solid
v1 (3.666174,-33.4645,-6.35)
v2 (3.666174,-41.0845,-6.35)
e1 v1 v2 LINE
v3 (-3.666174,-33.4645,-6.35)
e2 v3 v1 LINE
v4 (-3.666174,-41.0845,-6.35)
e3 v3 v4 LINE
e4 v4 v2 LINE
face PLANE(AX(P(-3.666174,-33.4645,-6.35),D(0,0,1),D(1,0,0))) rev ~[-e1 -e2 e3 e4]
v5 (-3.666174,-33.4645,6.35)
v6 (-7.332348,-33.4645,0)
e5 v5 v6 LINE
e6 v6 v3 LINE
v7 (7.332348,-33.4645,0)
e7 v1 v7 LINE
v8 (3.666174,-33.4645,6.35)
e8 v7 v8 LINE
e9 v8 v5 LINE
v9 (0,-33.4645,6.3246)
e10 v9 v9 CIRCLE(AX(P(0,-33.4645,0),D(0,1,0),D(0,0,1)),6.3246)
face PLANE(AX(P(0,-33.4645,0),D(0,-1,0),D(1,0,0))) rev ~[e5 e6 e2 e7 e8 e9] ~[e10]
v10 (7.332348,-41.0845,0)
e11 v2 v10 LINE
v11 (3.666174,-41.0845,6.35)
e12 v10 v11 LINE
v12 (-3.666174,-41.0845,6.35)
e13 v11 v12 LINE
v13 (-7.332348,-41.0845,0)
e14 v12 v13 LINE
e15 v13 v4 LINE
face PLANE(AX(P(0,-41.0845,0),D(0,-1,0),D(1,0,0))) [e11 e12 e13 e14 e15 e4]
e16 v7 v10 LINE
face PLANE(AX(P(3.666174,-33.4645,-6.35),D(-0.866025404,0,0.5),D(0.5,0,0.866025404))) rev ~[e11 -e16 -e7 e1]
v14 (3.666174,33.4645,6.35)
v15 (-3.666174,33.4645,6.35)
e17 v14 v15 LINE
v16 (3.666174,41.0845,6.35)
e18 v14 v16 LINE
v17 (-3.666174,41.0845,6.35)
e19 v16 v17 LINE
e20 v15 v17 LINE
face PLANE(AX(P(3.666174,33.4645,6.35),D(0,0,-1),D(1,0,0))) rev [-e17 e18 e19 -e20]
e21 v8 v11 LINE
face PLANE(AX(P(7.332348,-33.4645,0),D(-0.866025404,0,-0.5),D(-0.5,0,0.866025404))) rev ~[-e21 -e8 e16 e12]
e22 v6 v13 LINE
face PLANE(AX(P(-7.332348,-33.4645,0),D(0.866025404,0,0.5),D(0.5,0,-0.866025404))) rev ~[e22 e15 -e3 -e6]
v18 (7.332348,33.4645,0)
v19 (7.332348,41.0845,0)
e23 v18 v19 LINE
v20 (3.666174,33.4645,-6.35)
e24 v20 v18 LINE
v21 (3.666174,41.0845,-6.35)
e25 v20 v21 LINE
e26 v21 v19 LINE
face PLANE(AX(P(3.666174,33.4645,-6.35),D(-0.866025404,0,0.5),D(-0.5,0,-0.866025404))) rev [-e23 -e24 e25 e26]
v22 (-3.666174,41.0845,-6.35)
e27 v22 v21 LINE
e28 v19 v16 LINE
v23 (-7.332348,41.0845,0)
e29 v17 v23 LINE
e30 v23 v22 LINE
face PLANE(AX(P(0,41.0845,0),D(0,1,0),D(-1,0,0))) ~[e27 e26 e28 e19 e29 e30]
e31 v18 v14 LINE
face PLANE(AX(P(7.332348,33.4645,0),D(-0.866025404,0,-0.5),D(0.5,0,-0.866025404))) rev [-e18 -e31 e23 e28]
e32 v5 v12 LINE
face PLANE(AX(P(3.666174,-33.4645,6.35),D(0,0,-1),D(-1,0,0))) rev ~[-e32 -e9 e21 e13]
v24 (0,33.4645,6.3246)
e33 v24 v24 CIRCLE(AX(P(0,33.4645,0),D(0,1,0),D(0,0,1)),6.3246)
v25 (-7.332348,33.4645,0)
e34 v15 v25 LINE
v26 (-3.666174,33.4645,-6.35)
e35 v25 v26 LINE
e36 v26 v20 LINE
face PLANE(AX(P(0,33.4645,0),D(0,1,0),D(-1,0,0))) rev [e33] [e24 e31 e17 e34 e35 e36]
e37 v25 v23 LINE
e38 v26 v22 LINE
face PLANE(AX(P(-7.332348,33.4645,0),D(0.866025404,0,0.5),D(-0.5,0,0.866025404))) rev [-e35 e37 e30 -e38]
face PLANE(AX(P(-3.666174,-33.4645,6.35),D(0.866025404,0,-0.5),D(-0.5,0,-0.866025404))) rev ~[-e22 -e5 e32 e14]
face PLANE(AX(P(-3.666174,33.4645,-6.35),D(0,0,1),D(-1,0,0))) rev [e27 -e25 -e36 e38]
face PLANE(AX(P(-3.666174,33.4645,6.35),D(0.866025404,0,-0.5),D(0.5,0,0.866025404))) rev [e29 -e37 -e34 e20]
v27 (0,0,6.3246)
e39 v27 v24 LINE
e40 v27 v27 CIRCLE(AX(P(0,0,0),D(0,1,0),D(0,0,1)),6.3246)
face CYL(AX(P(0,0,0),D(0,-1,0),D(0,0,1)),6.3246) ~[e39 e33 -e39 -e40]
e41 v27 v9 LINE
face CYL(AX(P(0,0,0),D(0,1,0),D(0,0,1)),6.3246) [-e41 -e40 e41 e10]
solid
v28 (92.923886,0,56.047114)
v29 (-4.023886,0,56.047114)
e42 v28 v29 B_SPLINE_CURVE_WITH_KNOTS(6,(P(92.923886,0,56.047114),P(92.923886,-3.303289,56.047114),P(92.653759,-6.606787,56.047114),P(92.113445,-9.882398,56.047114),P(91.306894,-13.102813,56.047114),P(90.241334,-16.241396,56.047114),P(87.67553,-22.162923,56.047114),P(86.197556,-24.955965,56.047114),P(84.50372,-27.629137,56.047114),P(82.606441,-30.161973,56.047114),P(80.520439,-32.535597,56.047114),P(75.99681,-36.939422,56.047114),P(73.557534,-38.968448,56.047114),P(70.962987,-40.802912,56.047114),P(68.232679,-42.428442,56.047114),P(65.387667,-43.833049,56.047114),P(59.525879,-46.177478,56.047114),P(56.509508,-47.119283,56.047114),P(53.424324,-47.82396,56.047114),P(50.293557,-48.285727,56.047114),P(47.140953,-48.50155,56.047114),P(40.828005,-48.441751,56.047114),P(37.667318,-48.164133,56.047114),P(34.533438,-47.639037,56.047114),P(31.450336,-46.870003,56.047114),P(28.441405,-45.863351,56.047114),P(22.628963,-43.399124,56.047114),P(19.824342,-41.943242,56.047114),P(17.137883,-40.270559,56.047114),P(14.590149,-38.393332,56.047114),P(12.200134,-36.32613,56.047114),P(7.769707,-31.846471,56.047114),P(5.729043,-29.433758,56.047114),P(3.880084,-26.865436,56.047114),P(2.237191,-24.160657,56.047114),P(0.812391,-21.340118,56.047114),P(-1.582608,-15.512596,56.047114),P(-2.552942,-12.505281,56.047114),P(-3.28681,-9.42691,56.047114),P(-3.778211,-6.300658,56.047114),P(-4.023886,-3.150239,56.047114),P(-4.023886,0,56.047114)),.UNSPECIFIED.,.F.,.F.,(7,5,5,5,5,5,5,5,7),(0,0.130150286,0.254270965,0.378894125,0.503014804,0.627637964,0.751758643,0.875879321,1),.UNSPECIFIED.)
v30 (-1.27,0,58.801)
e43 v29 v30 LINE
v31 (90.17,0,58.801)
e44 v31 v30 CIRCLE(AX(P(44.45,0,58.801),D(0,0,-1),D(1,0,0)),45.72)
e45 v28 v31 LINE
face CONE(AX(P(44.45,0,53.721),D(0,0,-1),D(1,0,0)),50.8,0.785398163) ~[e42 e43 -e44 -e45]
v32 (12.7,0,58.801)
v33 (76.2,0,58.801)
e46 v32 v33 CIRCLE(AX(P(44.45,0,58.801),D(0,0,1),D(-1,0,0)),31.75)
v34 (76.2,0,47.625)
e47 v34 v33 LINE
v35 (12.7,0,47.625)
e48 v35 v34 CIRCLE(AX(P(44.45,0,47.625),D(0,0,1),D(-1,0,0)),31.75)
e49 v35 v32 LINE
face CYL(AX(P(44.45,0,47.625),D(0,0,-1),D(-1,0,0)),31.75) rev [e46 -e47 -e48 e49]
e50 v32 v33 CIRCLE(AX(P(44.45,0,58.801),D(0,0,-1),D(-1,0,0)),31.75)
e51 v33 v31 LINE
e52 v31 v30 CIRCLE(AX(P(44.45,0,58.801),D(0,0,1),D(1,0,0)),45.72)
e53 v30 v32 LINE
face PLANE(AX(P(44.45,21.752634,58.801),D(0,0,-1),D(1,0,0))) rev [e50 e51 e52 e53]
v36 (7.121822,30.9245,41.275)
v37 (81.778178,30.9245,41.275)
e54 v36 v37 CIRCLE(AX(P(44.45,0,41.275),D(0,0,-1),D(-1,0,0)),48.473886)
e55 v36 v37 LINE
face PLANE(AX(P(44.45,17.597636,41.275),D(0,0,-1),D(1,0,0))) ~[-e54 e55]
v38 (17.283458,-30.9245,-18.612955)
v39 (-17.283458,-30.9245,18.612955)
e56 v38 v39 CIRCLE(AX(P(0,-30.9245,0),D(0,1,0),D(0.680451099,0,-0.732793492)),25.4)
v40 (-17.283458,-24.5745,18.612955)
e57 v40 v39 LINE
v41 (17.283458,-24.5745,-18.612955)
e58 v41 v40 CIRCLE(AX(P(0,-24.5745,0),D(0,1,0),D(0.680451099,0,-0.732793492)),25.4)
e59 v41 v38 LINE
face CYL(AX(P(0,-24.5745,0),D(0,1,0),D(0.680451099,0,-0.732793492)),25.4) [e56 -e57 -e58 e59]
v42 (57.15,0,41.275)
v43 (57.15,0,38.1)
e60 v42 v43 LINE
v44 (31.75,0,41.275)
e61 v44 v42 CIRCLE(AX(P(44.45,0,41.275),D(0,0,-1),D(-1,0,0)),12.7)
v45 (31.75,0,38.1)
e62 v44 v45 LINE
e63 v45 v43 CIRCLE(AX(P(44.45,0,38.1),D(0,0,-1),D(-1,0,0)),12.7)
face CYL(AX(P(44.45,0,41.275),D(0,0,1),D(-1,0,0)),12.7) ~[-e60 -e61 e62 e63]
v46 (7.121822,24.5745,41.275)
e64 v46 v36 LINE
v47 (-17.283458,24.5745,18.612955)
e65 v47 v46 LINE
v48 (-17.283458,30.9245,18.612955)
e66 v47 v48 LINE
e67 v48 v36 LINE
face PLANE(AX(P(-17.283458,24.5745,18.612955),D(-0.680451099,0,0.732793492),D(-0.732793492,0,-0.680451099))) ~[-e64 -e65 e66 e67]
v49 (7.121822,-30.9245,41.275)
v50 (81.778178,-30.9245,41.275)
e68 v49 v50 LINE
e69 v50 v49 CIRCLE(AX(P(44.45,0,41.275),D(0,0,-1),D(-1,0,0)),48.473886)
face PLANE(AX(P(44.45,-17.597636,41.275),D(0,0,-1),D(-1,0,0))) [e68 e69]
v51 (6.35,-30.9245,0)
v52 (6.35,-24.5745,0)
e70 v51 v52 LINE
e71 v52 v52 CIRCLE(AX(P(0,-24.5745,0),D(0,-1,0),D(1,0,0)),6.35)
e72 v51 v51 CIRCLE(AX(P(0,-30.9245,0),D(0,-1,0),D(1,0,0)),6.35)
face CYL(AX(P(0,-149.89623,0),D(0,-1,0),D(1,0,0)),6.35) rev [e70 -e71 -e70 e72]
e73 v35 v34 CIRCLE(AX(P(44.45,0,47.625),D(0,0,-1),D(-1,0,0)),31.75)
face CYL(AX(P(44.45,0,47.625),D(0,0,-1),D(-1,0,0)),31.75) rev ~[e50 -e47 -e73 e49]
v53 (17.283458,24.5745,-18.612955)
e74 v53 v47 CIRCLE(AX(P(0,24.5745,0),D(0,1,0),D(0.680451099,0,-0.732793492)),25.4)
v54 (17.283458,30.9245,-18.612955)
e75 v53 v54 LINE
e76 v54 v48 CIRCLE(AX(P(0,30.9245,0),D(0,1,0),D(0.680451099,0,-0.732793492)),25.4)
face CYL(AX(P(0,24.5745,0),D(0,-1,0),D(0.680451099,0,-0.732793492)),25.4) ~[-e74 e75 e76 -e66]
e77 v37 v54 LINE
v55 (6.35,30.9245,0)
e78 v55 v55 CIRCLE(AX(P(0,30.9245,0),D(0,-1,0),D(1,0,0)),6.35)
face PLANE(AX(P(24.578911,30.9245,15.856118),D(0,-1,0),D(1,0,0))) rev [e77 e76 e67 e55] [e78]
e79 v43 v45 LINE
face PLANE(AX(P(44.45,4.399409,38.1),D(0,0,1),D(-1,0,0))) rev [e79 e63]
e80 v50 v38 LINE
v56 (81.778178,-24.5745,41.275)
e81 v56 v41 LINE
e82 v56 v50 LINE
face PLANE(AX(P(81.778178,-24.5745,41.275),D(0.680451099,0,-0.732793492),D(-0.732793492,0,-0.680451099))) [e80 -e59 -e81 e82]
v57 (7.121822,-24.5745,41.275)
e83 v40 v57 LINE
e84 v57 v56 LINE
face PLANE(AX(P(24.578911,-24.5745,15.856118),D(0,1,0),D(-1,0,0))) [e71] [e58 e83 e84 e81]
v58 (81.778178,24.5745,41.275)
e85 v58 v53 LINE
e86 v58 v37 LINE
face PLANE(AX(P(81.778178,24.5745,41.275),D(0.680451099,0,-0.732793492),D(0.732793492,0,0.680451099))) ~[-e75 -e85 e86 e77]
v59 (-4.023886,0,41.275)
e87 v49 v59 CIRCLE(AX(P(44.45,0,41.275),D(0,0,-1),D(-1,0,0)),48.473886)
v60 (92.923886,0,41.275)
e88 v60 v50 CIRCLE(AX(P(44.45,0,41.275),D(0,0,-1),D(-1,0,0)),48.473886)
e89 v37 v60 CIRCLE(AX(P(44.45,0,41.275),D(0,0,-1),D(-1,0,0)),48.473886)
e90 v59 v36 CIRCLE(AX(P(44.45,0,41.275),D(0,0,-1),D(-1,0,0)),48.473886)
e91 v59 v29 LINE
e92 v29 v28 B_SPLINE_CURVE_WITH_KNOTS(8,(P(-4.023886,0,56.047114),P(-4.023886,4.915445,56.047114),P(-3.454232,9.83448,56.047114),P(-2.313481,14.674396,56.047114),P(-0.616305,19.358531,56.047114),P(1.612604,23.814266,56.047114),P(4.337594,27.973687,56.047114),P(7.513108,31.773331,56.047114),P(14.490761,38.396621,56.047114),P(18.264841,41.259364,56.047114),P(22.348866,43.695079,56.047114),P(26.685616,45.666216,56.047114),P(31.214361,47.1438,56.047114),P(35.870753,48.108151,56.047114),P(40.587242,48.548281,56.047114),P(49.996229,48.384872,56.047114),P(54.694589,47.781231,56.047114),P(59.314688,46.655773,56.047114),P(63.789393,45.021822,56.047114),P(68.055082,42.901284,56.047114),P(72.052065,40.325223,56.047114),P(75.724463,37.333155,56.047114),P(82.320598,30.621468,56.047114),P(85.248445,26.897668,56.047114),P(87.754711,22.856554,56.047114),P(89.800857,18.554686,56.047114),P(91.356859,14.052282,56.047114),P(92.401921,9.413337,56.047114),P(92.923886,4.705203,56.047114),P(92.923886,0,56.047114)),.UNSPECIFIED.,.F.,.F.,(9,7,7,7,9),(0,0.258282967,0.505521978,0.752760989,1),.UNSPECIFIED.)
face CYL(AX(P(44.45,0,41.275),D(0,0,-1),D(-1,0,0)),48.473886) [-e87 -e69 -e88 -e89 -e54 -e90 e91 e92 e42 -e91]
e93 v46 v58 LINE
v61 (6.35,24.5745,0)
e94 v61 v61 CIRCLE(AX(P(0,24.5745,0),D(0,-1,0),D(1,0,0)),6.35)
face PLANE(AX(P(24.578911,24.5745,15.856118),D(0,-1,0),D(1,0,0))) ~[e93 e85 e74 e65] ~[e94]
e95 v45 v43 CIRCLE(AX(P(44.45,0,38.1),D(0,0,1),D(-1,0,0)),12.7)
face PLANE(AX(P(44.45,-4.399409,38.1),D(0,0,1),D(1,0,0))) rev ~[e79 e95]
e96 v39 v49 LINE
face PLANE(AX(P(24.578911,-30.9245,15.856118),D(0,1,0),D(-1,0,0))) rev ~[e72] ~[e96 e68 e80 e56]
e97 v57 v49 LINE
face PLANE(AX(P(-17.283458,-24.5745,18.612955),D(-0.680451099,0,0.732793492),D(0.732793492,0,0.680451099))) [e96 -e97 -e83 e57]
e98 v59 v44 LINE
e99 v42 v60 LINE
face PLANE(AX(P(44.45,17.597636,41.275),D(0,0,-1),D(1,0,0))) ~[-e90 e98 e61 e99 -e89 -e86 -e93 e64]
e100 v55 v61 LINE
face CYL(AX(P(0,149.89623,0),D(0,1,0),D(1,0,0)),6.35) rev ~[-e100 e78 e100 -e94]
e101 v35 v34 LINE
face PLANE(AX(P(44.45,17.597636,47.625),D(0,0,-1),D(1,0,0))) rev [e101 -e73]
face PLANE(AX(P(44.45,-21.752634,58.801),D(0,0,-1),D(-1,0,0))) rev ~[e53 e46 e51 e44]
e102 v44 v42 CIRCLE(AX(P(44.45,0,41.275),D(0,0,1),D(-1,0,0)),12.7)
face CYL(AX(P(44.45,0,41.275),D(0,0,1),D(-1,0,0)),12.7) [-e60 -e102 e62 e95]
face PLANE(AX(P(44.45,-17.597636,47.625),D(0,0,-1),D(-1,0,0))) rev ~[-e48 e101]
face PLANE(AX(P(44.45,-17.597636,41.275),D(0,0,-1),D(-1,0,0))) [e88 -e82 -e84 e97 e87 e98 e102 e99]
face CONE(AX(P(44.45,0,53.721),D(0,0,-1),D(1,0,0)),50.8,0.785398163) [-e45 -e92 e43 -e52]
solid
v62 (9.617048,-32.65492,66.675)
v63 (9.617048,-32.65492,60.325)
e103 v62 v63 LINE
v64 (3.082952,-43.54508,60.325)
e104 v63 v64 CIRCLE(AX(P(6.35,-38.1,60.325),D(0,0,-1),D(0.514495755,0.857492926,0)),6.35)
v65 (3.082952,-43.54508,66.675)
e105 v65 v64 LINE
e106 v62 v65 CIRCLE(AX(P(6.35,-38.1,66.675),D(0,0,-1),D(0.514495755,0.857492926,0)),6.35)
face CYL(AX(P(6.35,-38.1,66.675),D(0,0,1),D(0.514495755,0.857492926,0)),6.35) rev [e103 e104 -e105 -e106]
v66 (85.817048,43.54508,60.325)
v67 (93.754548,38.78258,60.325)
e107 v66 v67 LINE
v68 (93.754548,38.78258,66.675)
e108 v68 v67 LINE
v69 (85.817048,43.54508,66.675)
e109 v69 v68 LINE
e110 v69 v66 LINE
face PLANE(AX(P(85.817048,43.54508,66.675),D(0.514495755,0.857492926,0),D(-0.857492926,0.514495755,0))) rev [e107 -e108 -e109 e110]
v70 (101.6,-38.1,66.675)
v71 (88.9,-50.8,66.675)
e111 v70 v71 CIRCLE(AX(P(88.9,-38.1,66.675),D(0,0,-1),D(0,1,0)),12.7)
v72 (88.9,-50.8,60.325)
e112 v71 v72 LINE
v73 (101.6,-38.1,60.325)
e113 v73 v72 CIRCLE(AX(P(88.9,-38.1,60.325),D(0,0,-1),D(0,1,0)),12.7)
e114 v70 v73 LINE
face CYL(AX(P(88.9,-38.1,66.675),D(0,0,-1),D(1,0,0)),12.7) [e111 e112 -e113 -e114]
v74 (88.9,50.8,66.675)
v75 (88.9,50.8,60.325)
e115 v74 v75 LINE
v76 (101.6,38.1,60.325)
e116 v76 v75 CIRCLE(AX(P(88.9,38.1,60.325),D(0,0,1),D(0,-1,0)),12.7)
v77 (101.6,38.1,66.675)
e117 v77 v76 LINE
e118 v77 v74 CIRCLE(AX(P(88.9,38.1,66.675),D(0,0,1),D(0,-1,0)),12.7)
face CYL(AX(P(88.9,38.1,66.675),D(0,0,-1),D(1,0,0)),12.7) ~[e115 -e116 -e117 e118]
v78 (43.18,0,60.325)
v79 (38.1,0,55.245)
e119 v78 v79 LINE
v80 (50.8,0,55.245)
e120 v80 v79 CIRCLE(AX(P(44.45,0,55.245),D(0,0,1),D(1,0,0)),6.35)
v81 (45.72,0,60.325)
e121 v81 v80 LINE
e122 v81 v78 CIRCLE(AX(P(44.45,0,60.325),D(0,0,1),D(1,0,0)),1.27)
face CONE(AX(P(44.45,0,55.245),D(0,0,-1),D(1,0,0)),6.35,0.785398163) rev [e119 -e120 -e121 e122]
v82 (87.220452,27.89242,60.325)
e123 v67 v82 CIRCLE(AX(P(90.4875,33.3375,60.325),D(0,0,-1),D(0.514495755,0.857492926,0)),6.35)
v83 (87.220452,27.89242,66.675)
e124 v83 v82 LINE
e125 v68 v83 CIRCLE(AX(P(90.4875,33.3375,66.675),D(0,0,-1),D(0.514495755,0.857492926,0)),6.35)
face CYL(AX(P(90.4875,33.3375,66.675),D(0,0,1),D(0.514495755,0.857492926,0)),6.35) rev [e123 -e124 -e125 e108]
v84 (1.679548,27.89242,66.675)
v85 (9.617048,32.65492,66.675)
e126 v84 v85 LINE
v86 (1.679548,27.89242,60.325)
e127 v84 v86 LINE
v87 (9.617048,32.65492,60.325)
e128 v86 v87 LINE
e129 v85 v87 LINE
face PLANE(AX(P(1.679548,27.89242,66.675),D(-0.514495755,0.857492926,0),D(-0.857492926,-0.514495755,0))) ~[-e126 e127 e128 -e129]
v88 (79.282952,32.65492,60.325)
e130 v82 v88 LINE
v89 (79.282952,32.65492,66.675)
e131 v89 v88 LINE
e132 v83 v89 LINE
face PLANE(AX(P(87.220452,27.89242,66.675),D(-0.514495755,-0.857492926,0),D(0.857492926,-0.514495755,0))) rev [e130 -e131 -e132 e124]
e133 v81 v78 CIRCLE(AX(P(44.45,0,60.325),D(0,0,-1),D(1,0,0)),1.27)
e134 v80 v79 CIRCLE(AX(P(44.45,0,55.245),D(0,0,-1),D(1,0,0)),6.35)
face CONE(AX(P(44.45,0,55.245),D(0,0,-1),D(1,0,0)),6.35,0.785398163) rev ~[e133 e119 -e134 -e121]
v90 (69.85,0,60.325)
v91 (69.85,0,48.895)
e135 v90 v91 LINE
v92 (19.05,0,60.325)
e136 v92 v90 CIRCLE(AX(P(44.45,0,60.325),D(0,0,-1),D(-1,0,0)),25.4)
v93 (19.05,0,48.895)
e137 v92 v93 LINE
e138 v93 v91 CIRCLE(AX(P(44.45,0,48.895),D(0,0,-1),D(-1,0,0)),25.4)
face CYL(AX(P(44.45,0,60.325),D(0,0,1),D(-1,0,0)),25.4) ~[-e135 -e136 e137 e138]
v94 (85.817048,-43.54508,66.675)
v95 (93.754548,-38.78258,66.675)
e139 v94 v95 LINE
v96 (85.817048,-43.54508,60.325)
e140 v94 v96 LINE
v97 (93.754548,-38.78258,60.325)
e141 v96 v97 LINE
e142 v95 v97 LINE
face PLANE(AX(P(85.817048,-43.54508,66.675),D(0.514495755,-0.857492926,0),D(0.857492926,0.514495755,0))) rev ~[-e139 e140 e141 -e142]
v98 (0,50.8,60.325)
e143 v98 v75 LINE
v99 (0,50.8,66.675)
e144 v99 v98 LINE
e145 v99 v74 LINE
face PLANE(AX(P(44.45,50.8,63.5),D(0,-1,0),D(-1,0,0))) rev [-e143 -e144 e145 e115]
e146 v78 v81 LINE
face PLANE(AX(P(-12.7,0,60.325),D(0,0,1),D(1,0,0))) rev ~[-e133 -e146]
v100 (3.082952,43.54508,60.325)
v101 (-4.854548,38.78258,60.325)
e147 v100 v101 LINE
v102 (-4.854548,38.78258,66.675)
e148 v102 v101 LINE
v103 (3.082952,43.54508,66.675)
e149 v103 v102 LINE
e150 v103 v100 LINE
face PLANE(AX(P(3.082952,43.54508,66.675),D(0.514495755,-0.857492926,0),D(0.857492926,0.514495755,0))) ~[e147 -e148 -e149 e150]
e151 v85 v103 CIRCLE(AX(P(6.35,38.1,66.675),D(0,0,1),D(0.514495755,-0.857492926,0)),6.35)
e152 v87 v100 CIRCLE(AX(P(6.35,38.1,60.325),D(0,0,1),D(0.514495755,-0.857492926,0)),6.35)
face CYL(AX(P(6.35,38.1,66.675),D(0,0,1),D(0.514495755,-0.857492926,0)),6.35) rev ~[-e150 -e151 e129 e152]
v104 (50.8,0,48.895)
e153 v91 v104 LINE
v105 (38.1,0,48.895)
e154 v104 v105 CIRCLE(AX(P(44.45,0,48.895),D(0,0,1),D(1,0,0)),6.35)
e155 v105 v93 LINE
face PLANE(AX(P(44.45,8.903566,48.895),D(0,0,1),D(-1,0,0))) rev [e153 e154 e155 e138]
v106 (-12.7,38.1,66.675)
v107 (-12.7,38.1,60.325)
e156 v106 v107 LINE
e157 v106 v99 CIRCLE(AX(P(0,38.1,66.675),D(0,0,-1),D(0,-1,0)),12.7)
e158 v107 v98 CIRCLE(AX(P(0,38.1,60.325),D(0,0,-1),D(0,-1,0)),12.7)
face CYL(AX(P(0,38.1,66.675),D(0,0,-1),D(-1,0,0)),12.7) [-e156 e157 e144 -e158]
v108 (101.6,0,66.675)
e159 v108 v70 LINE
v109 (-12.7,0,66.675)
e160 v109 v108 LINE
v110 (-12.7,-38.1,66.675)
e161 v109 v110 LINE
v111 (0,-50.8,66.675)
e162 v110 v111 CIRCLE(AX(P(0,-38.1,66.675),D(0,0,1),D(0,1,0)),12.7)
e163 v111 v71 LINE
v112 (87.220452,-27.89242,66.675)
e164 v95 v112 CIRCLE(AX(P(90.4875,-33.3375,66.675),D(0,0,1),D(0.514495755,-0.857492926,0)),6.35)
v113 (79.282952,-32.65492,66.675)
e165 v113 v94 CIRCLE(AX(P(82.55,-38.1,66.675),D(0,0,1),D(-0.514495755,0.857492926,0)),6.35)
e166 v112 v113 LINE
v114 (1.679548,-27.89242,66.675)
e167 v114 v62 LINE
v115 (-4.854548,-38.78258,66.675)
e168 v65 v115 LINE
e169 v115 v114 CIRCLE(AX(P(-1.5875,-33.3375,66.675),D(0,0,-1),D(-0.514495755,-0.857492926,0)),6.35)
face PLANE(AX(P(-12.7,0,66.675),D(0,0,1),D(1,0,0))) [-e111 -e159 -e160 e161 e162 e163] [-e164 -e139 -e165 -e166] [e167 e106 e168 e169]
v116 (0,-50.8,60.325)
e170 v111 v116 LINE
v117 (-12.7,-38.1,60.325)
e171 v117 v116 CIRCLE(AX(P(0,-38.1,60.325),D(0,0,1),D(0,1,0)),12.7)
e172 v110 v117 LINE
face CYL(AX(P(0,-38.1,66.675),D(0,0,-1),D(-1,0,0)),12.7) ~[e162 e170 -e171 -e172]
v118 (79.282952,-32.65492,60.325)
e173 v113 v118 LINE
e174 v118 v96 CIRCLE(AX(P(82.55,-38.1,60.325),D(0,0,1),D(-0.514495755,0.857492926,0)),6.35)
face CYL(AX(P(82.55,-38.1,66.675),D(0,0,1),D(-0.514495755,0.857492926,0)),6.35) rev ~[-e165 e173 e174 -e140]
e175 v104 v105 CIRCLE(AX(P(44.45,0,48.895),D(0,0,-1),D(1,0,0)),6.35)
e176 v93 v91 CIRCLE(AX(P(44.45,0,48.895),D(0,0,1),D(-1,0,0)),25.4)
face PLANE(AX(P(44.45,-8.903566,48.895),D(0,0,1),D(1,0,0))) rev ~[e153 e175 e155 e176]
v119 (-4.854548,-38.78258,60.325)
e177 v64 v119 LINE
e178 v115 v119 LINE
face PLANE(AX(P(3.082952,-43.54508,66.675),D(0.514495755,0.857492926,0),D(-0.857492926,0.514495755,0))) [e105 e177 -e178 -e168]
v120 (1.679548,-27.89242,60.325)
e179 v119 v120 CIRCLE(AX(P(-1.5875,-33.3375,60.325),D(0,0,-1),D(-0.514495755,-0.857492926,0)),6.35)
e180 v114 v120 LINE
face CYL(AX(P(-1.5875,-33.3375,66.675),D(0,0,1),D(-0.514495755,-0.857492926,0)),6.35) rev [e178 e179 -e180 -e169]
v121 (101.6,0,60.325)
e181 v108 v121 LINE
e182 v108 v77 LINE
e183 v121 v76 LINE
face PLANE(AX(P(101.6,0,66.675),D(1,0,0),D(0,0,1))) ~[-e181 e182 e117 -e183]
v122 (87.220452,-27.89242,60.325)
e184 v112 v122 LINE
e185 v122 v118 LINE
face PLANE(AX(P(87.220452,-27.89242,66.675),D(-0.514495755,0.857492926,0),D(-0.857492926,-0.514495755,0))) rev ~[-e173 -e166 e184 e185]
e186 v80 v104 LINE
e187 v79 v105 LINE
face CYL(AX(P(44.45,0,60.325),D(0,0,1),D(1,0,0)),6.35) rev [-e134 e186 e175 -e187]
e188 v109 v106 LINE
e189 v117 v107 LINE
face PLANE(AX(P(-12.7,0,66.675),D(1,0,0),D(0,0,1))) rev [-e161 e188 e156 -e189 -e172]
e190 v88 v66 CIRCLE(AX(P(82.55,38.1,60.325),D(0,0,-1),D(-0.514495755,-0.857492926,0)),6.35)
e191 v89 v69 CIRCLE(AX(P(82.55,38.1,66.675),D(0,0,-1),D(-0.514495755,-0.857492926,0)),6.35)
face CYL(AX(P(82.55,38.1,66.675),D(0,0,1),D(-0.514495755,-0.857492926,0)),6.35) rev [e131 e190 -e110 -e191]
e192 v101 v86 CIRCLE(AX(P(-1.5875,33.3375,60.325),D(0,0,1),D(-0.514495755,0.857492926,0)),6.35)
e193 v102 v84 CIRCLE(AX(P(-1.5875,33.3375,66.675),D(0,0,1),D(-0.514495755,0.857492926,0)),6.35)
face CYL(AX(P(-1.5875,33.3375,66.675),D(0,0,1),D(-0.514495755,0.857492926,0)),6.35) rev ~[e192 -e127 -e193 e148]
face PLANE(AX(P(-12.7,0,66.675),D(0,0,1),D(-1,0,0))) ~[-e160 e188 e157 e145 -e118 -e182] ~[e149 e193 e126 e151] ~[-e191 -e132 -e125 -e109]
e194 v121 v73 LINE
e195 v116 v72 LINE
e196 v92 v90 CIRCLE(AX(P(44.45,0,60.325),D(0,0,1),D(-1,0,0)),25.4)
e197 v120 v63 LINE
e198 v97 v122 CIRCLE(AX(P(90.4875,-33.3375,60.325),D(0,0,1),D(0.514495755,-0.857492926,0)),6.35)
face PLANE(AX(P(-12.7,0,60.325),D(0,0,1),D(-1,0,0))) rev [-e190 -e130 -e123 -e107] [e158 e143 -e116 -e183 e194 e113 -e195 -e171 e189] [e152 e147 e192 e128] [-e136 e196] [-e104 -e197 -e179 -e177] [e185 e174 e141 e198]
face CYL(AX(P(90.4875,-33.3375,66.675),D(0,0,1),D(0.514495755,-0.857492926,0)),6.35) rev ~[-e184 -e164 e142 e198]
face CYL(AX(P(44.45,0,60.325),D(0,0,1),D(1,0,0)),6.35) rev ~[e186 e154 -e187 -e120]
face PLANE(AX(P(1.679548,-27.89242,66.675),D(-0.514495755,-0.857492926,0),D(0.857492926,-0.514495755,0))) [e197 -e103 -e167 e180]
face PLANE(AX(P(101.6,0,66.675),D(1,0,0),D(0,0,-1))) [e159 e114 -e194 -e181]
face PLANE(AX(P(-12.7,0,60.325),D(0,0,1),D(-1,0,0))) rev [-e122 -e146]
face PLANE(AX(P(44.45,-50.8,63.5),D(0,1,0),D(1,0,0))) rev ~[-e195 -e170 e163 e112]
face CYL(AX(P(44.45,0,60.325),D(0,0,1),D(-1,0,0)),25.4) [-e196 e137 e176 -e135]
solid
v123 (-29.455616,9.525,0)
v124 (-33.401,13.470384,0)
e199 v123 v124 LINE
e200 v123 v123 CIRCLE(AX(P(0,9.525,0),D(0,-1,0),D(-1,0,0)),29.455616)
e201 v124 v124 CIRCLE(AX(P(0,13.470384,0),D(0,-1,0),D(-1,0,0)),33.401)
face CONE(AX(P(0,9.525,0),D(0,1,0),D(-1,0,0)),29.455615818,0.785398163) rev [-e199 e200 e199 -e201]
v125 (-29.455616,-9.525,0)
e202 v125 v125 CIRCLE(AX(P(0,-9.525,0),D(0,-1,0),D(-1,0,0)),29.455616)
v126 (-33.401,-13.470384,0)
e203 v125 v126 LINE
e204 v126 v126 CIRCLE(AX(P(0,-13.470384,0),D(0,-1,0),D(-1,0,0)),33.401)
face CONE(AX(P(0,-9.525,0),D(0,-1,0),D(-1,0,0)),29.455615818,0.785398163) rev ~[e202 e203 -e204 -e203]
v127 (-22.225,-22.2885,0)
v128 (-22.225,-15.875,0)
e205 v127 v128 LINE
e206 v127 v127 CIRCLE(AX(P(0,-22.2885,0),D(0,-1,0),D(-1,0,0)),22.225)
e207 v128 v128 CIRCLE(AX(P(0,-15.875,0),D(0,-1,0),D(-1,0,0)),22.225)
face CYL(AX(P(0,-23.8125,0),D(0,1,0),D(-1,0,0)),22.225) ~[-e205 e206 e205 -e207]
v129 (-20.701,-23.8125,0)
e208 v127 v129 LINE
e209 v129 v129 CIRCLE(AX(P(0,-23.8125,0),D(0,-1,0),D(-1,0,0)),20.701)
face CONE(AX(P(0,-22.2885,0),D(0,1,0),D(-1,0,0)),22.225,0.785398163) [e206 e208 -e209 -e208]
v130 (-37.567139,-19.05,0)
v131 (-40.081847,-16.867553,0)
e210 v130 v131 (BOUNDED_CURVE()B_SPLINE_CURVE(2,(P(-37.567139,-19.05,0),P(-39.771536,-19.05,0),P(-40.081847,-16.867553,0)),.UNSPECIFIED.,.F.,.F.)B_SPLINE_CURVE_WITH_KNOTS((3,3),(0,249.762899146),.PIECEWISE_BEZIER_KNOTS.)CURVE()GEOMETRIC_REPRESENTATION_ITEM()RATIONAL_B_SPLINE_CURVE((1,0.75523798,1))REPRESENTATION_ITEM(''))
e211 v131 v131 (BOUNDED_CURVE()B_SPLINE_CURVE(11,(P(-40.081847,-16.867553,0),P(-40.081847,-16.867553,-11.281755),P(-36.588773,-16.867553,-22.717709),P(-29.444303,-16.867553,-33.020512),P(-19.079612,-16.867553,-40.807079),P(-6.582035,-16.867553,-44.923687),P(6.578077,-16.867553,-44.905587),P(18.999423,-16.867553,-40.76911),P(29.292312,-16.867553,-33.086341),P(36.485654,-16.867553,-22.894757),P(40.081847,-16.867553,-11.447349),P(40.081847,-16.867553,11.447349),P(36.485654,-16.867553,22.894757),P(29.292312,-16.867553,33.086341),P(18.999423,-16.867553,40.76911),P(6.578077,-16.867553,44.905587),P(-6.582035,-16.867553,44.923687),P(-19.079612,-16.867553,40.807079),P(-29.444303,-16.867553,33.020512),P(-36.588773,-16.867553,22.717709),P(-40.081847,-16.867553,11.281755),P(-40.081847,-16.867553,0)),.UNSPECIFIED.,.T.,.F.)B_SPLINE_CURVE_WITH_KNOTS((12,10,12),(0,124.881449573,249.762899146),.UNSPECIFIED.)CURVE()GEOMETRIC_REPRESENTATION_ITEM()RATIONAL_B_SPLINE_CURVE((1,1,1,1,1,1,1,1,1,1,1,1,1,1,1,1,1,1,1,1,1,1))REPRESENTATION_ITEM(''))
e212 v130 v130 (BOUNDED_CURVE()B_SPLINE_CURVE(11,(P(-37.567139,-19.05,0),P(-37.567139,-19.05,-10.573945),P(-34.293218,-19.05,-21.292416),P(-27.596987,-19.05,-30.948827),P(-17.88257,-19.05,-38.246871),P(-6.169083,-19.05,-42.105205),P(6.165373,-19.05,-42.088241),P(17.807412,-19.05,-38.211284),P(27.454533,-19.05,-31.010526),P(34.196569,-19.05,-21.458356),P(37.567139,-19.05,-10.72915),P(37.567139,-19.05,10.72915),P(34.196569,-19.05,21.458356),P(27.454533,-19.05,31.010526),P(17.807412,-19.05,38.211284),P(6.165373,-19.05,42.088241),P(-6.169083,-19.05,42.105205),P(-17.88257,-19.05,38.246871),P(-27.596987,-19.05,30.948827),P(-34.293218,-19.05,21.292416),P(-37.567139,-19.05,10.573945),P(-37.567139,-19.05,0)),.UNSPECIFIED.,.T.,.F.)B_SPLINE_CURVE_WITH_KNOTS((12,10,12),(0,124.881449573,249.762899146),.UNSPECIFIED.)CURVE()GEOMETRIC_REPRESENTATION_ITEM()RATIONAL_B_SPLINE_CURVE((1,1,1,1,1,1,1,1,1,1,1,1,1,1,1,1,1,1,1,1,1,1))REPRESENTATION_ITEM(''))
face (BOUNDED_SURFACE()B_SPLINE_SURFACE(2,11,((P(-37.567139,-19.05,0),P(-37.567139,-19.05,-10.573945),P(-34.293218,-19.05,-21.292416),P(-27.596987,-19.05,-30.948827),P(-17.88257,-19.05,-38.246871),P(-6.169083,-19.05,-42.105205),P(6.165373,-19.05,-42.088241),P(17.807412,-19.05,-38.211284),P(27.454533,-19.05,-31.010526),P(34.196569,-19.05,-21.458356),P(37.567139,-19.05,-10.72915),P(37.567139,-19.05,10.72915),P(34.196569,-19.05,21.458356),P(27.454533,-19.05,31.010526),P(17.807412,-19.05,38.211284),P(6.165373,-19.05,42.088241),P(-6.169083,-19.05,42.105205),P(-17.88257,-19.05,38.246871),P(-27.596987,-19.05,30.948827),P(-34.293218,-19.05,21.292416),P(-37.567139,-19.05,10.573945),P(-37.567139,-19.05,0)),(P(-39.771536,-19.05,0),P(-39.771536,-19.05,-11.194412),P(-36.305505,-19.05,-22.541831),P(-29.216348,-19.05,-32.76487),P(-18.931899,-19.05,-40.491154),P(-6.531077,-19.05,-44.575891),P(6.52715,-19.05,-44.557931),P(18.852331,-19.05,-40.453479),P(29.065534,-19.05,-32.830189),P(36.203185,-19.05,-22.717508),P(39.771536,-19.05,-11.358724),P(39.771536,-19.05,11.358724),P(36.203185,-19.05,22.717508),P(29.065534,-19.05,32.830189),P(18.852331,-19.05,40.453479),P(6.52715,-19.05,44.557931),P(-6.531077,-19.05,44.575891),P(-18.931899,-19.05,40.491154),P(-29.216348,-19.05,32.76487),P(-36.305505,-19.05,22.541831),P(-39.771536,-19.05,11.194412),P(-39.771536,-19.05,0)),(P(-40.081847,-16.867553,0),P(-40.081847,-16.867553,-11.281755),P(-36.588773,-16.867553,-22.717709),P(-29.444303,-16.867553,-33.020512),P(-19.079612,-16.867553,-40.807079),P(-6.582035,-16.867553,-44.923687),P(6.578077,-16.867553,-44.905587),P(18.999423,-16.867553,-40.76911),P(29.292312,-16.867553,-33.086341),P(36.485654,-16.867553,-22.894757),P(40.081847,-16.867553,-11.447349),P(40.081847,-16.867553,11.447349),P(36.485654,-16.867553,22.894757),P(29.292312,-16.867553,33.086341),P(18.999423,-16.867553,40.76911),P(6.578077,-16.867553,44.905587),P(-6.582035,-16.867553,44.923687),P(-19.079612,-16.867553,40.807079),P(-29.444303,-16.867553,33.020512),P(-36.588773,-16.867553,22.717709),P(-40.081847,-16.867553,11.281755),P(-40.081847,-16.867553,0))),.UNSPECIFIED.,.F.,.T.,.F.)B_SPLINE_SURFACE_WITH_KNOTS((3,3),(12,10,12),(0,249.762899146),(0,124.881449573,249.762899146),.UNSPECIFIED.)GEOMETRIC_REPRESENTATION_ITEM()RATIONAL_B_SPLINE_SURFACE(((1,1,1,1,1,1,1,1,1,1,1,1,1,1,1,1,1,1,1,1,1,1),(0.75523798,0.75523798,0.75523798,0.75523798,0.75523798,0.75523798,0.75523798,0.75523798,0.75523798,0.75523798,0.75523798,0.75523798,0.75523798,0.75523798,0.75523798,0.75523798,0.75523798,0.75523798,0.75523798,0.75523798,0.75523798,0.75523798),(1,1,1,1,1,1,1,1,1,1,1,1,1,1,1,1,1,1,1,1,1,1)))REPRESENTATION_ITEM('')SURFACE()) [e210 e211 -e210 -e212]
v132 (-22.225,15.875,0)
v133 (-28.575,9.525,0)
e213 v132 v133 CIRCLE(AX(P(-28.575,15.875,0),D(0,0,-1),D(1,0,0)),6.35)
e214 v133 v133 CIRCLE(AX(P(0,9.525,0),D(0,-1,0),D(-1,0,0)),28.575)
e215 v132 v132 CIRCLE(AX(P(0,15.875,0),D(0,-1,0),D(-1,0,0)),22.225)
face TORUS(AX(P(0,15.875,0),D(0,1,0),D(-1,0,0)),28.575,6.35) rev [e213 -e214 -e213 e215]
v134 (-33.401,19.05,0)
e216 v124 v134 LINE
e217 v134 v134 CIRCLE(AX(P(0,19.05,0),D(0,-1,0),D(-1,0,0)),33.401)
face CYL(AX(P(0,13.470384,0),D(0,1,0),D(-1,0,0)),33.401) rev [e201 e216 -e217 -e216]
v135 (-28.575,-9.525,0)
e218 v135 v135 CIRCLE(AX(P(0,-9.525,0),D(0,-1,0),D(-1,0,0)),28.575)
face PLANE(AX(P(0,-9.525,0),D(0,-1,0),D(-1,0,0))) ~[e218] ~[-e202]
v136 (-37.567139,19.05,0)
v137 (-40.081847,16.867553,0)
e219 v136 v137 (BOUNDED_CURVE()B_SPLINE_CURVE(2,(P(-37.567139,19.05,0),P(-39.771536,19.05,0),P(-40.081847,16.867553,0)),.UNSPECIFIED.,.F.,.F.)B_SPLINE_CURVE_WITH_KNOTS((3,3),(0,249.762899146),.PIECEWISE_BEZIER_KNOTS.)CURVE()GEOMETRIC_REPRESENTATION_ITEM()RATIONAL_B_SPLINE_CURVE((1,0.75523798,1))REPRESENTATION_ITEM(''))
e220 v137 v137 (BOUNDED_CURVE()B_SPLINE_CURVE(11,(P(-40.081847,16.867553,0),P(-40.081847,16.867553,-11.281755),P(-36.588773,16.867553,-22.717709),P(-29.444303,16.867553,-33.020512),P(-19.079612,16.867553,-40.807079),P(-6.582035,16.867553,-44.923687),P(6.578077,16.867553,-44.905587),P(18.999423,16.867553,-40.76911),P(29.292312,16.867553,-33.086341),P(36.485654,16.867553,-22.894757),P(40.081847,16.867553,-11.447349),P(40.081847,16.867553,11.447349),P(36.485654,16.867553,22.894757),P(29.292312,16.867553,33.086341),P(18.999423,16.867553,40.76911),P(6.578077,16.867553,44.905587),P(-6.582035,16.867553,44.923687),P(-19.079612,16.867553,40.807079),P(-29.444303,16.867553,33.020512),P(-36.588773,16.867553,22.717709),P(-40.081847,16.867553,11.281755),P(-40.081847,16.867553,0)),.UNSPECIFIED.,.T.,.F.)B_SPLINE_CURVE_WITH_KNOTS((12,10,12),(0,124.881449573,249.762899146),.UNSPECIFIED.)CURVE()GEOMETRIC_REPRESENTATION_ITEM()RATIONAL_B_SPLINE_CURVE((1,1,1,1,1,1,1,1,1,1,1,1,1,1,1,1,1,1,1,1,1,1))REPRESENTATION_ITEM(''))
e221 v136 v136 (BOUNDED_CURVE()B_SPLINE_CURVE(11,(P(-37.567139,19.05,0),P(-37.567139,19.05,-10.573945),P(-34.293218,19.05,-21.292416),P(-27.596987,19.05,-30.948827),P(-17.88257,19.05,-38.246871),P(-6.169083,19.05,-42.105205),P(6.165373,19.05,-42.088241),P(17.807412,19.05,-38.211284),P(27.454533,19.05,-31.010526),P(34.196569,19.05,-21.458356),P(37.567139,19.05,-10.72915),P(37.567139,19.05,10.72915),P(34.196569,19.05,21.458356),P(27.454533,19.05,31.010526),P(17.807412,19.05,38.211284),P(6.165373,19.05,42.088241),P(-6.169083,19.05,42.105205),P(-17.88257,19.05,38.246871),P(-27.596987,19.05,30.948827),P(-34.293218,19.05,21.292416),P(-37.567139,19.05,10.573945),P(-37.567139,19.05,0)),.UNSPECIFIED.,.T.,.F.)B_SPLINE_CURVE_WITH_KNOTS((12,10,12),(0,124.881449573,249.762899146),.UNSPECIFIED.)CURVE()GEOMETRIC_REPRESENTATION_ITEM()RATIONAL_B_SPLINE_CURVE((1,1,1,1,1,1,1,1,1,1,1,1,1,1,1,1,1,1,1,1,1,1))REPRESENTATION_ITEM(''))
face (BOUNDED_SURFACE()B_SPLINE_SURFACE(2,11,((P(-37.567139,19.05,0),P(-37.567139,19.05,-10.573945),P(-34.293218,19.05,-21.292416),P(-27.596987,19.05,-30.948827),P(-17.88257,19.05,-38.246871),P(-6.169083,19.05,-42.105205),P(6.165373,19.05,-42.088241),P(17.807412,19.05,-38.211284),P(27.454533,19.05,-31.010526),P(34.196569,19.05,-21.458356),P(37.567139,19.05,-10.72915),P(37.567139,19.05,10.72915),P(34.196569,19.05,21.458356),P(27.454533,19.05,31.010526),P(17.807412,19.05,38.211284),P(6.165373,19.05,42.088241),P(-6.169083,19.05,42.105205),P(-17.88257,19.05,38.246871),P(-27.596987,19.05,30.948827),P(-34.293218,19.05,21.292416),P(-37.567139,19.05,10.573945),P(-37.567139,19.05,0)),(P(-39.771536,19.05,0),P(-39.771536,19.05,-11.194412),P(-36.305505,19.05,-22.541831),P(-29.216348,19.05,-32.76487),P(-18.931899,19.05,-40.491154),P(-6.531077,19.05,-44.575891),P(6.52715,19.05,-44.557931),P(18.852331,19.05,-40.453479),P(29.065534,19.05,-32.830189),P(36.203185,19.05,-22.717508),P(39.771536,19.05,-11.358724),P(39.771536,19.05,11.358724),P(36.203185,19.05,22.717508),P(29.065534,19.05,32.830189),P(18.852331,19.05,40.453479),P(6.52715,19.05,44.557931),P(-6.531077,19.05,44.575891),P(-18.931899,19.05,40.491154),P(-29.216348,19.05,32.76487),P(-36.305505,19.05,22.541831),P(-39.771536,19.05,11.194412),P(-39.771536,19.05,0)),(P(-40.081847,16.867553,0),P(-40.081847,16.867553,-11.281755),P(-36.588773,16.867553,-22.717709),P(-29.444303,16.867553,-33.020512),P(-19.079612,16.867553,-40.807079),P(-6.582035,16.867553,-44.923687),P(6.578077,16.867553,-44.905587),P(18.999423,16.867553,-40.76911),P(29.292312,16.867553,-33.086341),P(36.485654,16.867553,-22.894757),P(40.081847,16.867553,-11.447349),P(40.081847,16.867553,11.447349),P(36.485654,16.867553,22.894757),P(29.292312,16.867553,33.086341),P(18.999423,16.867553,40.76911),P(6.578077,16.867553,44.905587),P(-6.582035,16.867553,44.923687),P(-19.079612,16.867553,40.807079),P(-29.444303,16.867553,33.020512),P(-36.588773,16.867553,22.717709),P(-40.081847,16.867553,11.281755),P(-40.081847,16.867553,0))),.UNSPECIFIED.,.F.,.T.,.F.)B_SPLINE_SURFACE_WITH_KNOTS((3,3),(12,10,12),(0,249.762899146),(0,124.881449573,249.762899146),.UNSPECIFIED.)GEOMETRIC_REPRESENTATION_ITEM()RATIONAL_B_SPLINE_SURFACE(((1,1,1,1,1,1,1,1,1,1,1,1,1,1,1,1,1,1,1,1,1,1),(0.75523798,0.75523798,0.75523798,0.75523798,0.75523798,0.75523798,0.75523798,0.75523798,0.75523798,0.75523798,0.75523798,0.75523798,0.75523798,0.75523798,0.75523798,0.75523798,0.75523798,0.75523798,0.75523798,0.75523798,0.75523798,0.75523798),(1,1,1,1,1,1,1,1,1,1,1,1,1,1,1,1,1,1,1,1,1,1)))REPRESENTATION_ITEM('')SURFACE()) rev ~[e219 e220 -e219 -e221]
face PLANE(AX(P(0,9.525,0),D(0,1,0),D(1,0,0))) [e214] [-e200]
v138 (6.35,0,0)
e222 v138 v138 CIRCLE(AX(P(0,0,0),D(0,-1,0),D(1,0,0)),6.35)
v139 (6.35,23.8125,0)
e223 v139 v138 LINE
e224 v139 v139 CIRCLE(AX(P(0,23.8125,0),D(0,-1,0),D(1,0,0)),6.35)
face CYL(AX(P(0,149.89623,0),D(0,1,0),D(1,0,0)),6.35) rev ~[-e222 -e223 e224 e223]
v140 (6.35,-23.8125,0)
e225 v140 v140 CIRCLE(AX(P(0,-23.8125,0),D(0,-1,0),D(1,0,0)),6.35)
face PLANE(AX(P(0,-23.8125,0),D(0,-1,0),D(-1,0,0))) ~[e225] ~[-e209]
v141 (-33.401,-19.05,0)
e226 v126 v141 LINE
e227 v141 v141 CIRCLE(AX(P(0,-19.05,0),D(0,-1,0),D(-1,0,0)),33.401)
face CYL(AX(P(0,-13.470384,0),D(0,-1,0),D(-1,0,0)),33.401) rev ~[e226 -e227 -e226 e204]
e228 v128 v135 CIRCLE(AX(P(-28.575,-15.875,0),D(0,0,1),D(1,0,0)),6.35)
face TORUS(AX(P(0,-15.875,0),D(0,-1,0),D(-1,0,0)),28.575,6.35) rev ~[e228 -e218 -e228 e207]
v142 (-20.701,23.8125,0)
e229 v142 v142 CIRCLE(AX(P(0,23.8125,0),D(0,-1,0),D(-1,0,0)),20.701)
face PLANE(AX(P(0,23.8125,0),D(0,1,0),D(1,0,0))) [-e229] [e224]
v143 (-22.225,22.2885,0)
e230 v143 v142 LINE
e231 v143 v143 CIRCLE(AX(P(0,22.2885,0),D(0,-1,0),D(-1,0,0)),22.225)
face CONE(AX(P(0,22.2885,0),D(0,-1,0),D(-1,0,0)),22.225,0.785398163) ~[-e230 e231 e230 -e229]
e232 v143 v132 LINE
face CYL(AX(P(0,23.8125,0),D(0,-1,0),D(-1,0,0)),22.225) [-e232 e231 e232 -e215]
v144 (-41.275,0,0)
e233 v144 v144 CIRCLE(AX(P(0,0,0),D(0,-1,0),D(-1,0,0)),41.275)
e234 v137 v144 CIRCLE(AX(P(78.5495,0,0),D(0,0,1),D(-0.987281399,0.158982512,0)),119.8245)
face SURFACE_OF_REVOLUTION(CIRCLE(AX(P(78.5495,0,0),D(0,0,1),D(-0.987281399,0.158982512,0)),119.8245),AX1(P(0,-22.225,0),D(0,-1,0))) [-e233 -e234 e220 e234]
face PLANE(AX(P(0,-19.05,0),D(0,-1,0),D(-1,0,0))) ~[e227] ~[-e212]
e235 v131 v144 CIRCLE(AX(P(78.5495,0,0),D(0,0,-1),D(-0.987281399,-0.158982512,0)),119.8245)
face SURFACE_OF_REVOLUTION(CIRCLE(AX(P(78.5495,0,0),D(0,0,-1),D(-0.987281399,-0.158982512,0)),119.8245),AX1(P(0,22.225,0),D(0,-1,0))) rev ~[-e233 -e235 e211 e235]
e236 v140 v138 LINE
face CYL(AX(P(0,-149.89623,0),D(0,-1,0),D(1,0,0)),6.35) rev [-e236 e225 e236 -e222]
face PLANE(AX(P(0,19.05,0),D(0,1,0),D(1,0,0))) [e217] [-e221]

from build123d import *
from build123d.topology import SkipClean

# Parameters (mm, degrees)
FILLET4_R               = 2.54
CHAMFER1_SIZE           = 1.524
EXTRUDE1_DEPTH          = 6.35
SKETCH7_W               = 114.3
SKETCH7_H               = 6.35
EXTRUDE2_DEPTH          = 50.8
EXTRUDE8_DEPTH          = 6.35
EXTRUDE10_DEPTH         = 3.175
EXTRUDE3_DEPTH          = 11.176
CHAMFER2_SIZE           = 5.08
EXTRUDE4_DEPTH          = 11.43
CHAMFER3_SIZE           = 5.08
CUT_EXTRUDE1_DEPTH      = 6.35
FILLET1_R               = 12.7
CUT_EXTRUDE2_DEPTH      = 125.321729699
CUT_EXTRUDE2_DEPTH_BACK = 125.321729699
SKETCH11_R              = 6.35
SKETCH12_R              = 6.3246
EXTRUDE5_DEPTH          = 33.4645
EXTRUDE6_DEPTH          = 7.62
SKETCH26_R              = 50.8
SKETCH26_R_2            = 48.47388575
CUT_EXTRUDE3_DEPTH      = 17.78


with BuildPart() as part:
    # Sketch1 → Revolve1 (revolve)
    with BuildSketch(Plane.XY, mode=Mode.PRIVATE) as revolve1_sk:
        with BuildLine():
            Line((0, 0), (0, -23.8125))
            Line((0, -23.8125), (22.225, -23.8125))
            Line((22.225, -23.8125), (22.225, -15.875))
            ThreePointArc((22.225, -15.875), (24.084871939, -11.384871939), (28.575, -9.525))
            Line((28.575, -9.525), (29.455615818, -9.525))
            Line((29.455615818, -9.525), (33.401, -13.470384182))
            Line((33.401, -13.470384182), (33.401, -19.05))
            Line((33.401, -19.05), (39.751, -19.05))
            ThreePointArc((39.751, -19.05), (40.893392343, -9.555431387), (41.275, 0))
            Line((41.275, 0), (0, 0))
        make_face()
    revolve(revolve1_sk.sketch.rotate(Axis((0, 22.225, 0), (0, -1, 0)), 180), axis=Axis((0, 22.225, 0), (0, -1, 0)))

    # Fillet4
    fillet4_edges = [part.edges().sort_by_distance(p)[0] for p in [
        (39.751, -19.05, 0),
    ]]
    fillet(fillet4_edges, radius=FILLET4_R)

    # Chamfer1
    chamfer1_edges = [part.edges().sort_by_distance(p)[0] for p in [
        (22.225, -23.8125, 0),
    ]]
    chamfer(chamfer1_edges, length=CHAMFER1_SIZE)


with BuildPart() as body_2:
    # Sketch3 → Extrude1 (new body)
    with BuildSketch(Plane.XZ.offset(24.5745)):
        with BuildLine():
            Line((-17.283457924, 18.612954687), (7.121821644, 41.275))
            Line((7.121821644, 41.275), (81.778178356, 41.275))
            Line((81.778178356, 41.275), (17.283457924, -18.612954687))
            ThreePointArc((17.283457924, -18.612954687), (-18.612954687, -17.283457924), (-17.283457924, 18.612954687))
        make_face()
    extrude(amount=EXTRUDE1_DEPTH)

    # Sketch20 → Extrude8 (add)
    with BuildSketch(Plane.XY.offset(41.275)):
        with BuildLine():
            Line((-6.35, 0), (95.25, 0))
            ThreePointArc((95.25, 0), (44.45, -50.8), (-6.35, 0))
        make_face()
    extrude(amount=EXTRUDE8_DEPTH)

    # Sketch24 → Extrude10 (add)
    with BuildSketch(Plane(origin=(0, 0, 41.275), x_dir=(-1, 0, 0), z_dir=(0, 0, -1))):
        with BuildLine():
            Line((-57.15, 0), (-31.75, 0))
            ThreePointArc((-31.75, 0), (-44.45, -12.7), (-57.15, 0))
        make_face()
    extrude(amount=EXTRUDE10_DEPTH)

    # Sketch8 → Extrude3 (add)
    with BuildSketch(Plane.XY.offset(47.625)):
        with BuildLine():
            Line((-6.35, 0), (12.7, 0))
            ThreePointArc((12.7, 0), (44.45, -31.75), (76.2, 0))
            Line((76.2, 0), (95.25, 0))
            ThreePointArc((95.25, 0), (44.45, -50.8), (-6.35, 0))
        make_face()
    extrude(amount=EXTRUDE3_DEPTH)

    # Chamfer2
    chamfer2_edges = [body_2.edges().sort_by_distance(p)[0] for p in [
        (44.45, -50.8, 58.801),
    ]]
    chamfer(chamfer2_edges, length=CHAMFER2_SIZE)


with BuildPart() as body_3:
    # Sketch7 → Extrude2 (new body)
    with BuildSketch(Plane(origin=(0, 0, 0), x_dir=(1, 0, 0), z_dir=(0, 1, 0))):
        with Locations((44.45, -63.5)):
            Rectangle(SKETCH7_W, SKETCH7_H)
    extrude(amount=-EXTRUDE2_DEPTH)

    # Sketch9 → Extrude4 (add)
    with BuildSketch(Plane(origin=(0, 0, 60.325), x_dir=(-1, 0, 0), z_dir=(0, 0, -1))):
        with BuildLine():
            Line((-69.85, 0), (-50.8, 0))
            ThreePointArc((-50.8, 0), (-44.45, -6.35), (-38.1, 0))
            Line((-38.1, 0), (-19.05, 0))
            ThreePointArc((-19.05, 0), (-44.45, -25.4), (-69.85, 0))
        make_face()
    extrude(amount=EXTRUDE4_DEPTH)

    # Chamfer3
    chamfer3_edges = [body_3.edges().sort_by_distance(p)[0] for p in [
        (44.45, -6.35, 60.325),
    ]]
    chamfer(chamfer3_edges, length=CHAMFER3_SIZE)

    # Sketch10 → Cut-Extrude1 (cut)
    with BuildSketch(Plane.XY.offset(66.675)):
        with BuildLine():
            Line((1.679548047, -27.892419922), (9.617048047, -32.654919922))
            ThreePointArc((9.617048047, -32.654919922), (11.795080078, -41.367048047), (3.082951953, -43.545080078))
            Line((3.082951953, -43.545080078), (-4.854548047, -38.782580078))
            ThreePointArc((-4.854548047, -38.782580078), (-7.032580078, -30.070451953), (1.679548047, -27.892419922))
        make_face()
        with BuildLine():
            Line((85.817048047, -43.545080078), (93.754548047, -38.782580078))
            ThreePointArc((93.754548047, -38.782580078), (95.932580078, -30.070451953), (87.220451953, -27.892419922))
            Line((87.220451953, -27.892419922), (79.282951953, -32.654919922))
            ThreePointArc((79.282951953, -32.654919922), (77.104919922, -41.367048047), (85.817048047, -43.545080078))
        make_face()
    extrude(amount=-CUT_EXTRUDE1_DEPTH, mode=Mode.SUBTRACT)

    # Fillet1
    fillet1_edges = [body_3.edges().sort_by_distance(p)[0] for p in [
        (101.6, -50.8, 63.5),
        (-12.7, -50.8, 63.5),
    ]]
    fillet(fillet1_edges, radius=FILLET1_R)

    # Mirror1: body 3 across plane


with BuildPart() as cut_extrude2_tool:
    # Sketch11 → Cut-Extrude2 (new, two sides: drawn at the far end of the back side and taken through both)
    with BuildSketch(Plane(origin=(0, -24.5745, 0), x_dir=(-1, 0, 0), z_dir=(0, 1, 0)).offset(-CUT_EXTRUDE2_DEPTH_BACK)):
        with Locations(Location((0, 0, 0), (0, 0, 180))):
            Circle(SKETCH11_R)
    extrude(amount=CUT_EXTRUDE2_DEPTH + CUT_EXTRUDE2_DEPTH_BACK)


with BuildPart() as part_1:
    add(part.part)

    # Cut-Extrude2: cut by cut_extrude2_tool
    add(cut_extrude2_tool.part, mode=Mode.SUBTRACT)

    # Mirror1 2: part across plane


with BuildPart() as body_2_1:
    add(body_2.part)

    # Cut-Extrude2: cut by cut_extrude2_tool
    add(cut_extrude2_tool.part, mode=Mode.SUBTRACT)

    # Mirror1 3: body 2 across plane


with BuildPart() as body_4:
    # Sketch12 → Extrude5 (new body)
    with BuildSketch(Plane(origin=(0, 0, 0), x_dir=(-1, 0, 0), z_dir=(0, 1, 0))):
        with Locations(Location((0, 0, 0), (0, 0, 90))):
            Circle(SKETCH12_R)
    extrude(amount=-EXTRUDE5_DEPTH)

    # Sketch13 → Extrude6 (add)
    with BuildSketch(Plane.XZ.offset(33.4645)):
        Polygon((3.666174209, 6.35), (-3.666174209, 6.35), (-7.332348419, 0), (-3.666174209, -6.35), (3.666174209, -6.35), (7.332348419, 0), align=None)
    extrude(amount=EXTRUDE6_DEPTH)

    # Mirror1 4: body 4 across plane


with BuildPart() as body_3_1:
    add(body_3.part)
    add(body_3.part.mirror(Plane.ZX))


with BuildPart() as part_2:
    add(part_1.part)
    add(part_1.part.mirror(Plane.ZX))


with BuildPart() as body_2_2:
    with SkipClean():  # the faces are left unmerged after this step: merging them gives an invalid solid
        add(body_2_1.part)
        add(body_2_1.part.mirror(Plane.ZX))

    # Sketch26 → Cut-Extrude3 (cut)
    with SkipClean():  # the faces are left unmerged after this step: merging them gives an invalid solid
        with BuildSketch(Plane(origin=(0, 0, 41.275), x_dir=(-1, 0, 0), z_dir=(0, 0, -1))):
            with Locations((-44.45, 0)):
                Circle(SKETCH26_R)
            with Locations((-44.45, 0)):
                Circle(SKETCH26_R_2, mode=Mode.SUBTRACT)
        extrude(amount=-CUT_EXTRUDE3_DEPTH, mode=Mode.SUBTRACT)


with BuildPart() as body_4_1:
    add(body_4.part)
    add(body_4.part.mirror(Plane.ZX))


solid = Compound([body_3_1.part, part_2.part, body_2_2.part, body_4_1.part])
